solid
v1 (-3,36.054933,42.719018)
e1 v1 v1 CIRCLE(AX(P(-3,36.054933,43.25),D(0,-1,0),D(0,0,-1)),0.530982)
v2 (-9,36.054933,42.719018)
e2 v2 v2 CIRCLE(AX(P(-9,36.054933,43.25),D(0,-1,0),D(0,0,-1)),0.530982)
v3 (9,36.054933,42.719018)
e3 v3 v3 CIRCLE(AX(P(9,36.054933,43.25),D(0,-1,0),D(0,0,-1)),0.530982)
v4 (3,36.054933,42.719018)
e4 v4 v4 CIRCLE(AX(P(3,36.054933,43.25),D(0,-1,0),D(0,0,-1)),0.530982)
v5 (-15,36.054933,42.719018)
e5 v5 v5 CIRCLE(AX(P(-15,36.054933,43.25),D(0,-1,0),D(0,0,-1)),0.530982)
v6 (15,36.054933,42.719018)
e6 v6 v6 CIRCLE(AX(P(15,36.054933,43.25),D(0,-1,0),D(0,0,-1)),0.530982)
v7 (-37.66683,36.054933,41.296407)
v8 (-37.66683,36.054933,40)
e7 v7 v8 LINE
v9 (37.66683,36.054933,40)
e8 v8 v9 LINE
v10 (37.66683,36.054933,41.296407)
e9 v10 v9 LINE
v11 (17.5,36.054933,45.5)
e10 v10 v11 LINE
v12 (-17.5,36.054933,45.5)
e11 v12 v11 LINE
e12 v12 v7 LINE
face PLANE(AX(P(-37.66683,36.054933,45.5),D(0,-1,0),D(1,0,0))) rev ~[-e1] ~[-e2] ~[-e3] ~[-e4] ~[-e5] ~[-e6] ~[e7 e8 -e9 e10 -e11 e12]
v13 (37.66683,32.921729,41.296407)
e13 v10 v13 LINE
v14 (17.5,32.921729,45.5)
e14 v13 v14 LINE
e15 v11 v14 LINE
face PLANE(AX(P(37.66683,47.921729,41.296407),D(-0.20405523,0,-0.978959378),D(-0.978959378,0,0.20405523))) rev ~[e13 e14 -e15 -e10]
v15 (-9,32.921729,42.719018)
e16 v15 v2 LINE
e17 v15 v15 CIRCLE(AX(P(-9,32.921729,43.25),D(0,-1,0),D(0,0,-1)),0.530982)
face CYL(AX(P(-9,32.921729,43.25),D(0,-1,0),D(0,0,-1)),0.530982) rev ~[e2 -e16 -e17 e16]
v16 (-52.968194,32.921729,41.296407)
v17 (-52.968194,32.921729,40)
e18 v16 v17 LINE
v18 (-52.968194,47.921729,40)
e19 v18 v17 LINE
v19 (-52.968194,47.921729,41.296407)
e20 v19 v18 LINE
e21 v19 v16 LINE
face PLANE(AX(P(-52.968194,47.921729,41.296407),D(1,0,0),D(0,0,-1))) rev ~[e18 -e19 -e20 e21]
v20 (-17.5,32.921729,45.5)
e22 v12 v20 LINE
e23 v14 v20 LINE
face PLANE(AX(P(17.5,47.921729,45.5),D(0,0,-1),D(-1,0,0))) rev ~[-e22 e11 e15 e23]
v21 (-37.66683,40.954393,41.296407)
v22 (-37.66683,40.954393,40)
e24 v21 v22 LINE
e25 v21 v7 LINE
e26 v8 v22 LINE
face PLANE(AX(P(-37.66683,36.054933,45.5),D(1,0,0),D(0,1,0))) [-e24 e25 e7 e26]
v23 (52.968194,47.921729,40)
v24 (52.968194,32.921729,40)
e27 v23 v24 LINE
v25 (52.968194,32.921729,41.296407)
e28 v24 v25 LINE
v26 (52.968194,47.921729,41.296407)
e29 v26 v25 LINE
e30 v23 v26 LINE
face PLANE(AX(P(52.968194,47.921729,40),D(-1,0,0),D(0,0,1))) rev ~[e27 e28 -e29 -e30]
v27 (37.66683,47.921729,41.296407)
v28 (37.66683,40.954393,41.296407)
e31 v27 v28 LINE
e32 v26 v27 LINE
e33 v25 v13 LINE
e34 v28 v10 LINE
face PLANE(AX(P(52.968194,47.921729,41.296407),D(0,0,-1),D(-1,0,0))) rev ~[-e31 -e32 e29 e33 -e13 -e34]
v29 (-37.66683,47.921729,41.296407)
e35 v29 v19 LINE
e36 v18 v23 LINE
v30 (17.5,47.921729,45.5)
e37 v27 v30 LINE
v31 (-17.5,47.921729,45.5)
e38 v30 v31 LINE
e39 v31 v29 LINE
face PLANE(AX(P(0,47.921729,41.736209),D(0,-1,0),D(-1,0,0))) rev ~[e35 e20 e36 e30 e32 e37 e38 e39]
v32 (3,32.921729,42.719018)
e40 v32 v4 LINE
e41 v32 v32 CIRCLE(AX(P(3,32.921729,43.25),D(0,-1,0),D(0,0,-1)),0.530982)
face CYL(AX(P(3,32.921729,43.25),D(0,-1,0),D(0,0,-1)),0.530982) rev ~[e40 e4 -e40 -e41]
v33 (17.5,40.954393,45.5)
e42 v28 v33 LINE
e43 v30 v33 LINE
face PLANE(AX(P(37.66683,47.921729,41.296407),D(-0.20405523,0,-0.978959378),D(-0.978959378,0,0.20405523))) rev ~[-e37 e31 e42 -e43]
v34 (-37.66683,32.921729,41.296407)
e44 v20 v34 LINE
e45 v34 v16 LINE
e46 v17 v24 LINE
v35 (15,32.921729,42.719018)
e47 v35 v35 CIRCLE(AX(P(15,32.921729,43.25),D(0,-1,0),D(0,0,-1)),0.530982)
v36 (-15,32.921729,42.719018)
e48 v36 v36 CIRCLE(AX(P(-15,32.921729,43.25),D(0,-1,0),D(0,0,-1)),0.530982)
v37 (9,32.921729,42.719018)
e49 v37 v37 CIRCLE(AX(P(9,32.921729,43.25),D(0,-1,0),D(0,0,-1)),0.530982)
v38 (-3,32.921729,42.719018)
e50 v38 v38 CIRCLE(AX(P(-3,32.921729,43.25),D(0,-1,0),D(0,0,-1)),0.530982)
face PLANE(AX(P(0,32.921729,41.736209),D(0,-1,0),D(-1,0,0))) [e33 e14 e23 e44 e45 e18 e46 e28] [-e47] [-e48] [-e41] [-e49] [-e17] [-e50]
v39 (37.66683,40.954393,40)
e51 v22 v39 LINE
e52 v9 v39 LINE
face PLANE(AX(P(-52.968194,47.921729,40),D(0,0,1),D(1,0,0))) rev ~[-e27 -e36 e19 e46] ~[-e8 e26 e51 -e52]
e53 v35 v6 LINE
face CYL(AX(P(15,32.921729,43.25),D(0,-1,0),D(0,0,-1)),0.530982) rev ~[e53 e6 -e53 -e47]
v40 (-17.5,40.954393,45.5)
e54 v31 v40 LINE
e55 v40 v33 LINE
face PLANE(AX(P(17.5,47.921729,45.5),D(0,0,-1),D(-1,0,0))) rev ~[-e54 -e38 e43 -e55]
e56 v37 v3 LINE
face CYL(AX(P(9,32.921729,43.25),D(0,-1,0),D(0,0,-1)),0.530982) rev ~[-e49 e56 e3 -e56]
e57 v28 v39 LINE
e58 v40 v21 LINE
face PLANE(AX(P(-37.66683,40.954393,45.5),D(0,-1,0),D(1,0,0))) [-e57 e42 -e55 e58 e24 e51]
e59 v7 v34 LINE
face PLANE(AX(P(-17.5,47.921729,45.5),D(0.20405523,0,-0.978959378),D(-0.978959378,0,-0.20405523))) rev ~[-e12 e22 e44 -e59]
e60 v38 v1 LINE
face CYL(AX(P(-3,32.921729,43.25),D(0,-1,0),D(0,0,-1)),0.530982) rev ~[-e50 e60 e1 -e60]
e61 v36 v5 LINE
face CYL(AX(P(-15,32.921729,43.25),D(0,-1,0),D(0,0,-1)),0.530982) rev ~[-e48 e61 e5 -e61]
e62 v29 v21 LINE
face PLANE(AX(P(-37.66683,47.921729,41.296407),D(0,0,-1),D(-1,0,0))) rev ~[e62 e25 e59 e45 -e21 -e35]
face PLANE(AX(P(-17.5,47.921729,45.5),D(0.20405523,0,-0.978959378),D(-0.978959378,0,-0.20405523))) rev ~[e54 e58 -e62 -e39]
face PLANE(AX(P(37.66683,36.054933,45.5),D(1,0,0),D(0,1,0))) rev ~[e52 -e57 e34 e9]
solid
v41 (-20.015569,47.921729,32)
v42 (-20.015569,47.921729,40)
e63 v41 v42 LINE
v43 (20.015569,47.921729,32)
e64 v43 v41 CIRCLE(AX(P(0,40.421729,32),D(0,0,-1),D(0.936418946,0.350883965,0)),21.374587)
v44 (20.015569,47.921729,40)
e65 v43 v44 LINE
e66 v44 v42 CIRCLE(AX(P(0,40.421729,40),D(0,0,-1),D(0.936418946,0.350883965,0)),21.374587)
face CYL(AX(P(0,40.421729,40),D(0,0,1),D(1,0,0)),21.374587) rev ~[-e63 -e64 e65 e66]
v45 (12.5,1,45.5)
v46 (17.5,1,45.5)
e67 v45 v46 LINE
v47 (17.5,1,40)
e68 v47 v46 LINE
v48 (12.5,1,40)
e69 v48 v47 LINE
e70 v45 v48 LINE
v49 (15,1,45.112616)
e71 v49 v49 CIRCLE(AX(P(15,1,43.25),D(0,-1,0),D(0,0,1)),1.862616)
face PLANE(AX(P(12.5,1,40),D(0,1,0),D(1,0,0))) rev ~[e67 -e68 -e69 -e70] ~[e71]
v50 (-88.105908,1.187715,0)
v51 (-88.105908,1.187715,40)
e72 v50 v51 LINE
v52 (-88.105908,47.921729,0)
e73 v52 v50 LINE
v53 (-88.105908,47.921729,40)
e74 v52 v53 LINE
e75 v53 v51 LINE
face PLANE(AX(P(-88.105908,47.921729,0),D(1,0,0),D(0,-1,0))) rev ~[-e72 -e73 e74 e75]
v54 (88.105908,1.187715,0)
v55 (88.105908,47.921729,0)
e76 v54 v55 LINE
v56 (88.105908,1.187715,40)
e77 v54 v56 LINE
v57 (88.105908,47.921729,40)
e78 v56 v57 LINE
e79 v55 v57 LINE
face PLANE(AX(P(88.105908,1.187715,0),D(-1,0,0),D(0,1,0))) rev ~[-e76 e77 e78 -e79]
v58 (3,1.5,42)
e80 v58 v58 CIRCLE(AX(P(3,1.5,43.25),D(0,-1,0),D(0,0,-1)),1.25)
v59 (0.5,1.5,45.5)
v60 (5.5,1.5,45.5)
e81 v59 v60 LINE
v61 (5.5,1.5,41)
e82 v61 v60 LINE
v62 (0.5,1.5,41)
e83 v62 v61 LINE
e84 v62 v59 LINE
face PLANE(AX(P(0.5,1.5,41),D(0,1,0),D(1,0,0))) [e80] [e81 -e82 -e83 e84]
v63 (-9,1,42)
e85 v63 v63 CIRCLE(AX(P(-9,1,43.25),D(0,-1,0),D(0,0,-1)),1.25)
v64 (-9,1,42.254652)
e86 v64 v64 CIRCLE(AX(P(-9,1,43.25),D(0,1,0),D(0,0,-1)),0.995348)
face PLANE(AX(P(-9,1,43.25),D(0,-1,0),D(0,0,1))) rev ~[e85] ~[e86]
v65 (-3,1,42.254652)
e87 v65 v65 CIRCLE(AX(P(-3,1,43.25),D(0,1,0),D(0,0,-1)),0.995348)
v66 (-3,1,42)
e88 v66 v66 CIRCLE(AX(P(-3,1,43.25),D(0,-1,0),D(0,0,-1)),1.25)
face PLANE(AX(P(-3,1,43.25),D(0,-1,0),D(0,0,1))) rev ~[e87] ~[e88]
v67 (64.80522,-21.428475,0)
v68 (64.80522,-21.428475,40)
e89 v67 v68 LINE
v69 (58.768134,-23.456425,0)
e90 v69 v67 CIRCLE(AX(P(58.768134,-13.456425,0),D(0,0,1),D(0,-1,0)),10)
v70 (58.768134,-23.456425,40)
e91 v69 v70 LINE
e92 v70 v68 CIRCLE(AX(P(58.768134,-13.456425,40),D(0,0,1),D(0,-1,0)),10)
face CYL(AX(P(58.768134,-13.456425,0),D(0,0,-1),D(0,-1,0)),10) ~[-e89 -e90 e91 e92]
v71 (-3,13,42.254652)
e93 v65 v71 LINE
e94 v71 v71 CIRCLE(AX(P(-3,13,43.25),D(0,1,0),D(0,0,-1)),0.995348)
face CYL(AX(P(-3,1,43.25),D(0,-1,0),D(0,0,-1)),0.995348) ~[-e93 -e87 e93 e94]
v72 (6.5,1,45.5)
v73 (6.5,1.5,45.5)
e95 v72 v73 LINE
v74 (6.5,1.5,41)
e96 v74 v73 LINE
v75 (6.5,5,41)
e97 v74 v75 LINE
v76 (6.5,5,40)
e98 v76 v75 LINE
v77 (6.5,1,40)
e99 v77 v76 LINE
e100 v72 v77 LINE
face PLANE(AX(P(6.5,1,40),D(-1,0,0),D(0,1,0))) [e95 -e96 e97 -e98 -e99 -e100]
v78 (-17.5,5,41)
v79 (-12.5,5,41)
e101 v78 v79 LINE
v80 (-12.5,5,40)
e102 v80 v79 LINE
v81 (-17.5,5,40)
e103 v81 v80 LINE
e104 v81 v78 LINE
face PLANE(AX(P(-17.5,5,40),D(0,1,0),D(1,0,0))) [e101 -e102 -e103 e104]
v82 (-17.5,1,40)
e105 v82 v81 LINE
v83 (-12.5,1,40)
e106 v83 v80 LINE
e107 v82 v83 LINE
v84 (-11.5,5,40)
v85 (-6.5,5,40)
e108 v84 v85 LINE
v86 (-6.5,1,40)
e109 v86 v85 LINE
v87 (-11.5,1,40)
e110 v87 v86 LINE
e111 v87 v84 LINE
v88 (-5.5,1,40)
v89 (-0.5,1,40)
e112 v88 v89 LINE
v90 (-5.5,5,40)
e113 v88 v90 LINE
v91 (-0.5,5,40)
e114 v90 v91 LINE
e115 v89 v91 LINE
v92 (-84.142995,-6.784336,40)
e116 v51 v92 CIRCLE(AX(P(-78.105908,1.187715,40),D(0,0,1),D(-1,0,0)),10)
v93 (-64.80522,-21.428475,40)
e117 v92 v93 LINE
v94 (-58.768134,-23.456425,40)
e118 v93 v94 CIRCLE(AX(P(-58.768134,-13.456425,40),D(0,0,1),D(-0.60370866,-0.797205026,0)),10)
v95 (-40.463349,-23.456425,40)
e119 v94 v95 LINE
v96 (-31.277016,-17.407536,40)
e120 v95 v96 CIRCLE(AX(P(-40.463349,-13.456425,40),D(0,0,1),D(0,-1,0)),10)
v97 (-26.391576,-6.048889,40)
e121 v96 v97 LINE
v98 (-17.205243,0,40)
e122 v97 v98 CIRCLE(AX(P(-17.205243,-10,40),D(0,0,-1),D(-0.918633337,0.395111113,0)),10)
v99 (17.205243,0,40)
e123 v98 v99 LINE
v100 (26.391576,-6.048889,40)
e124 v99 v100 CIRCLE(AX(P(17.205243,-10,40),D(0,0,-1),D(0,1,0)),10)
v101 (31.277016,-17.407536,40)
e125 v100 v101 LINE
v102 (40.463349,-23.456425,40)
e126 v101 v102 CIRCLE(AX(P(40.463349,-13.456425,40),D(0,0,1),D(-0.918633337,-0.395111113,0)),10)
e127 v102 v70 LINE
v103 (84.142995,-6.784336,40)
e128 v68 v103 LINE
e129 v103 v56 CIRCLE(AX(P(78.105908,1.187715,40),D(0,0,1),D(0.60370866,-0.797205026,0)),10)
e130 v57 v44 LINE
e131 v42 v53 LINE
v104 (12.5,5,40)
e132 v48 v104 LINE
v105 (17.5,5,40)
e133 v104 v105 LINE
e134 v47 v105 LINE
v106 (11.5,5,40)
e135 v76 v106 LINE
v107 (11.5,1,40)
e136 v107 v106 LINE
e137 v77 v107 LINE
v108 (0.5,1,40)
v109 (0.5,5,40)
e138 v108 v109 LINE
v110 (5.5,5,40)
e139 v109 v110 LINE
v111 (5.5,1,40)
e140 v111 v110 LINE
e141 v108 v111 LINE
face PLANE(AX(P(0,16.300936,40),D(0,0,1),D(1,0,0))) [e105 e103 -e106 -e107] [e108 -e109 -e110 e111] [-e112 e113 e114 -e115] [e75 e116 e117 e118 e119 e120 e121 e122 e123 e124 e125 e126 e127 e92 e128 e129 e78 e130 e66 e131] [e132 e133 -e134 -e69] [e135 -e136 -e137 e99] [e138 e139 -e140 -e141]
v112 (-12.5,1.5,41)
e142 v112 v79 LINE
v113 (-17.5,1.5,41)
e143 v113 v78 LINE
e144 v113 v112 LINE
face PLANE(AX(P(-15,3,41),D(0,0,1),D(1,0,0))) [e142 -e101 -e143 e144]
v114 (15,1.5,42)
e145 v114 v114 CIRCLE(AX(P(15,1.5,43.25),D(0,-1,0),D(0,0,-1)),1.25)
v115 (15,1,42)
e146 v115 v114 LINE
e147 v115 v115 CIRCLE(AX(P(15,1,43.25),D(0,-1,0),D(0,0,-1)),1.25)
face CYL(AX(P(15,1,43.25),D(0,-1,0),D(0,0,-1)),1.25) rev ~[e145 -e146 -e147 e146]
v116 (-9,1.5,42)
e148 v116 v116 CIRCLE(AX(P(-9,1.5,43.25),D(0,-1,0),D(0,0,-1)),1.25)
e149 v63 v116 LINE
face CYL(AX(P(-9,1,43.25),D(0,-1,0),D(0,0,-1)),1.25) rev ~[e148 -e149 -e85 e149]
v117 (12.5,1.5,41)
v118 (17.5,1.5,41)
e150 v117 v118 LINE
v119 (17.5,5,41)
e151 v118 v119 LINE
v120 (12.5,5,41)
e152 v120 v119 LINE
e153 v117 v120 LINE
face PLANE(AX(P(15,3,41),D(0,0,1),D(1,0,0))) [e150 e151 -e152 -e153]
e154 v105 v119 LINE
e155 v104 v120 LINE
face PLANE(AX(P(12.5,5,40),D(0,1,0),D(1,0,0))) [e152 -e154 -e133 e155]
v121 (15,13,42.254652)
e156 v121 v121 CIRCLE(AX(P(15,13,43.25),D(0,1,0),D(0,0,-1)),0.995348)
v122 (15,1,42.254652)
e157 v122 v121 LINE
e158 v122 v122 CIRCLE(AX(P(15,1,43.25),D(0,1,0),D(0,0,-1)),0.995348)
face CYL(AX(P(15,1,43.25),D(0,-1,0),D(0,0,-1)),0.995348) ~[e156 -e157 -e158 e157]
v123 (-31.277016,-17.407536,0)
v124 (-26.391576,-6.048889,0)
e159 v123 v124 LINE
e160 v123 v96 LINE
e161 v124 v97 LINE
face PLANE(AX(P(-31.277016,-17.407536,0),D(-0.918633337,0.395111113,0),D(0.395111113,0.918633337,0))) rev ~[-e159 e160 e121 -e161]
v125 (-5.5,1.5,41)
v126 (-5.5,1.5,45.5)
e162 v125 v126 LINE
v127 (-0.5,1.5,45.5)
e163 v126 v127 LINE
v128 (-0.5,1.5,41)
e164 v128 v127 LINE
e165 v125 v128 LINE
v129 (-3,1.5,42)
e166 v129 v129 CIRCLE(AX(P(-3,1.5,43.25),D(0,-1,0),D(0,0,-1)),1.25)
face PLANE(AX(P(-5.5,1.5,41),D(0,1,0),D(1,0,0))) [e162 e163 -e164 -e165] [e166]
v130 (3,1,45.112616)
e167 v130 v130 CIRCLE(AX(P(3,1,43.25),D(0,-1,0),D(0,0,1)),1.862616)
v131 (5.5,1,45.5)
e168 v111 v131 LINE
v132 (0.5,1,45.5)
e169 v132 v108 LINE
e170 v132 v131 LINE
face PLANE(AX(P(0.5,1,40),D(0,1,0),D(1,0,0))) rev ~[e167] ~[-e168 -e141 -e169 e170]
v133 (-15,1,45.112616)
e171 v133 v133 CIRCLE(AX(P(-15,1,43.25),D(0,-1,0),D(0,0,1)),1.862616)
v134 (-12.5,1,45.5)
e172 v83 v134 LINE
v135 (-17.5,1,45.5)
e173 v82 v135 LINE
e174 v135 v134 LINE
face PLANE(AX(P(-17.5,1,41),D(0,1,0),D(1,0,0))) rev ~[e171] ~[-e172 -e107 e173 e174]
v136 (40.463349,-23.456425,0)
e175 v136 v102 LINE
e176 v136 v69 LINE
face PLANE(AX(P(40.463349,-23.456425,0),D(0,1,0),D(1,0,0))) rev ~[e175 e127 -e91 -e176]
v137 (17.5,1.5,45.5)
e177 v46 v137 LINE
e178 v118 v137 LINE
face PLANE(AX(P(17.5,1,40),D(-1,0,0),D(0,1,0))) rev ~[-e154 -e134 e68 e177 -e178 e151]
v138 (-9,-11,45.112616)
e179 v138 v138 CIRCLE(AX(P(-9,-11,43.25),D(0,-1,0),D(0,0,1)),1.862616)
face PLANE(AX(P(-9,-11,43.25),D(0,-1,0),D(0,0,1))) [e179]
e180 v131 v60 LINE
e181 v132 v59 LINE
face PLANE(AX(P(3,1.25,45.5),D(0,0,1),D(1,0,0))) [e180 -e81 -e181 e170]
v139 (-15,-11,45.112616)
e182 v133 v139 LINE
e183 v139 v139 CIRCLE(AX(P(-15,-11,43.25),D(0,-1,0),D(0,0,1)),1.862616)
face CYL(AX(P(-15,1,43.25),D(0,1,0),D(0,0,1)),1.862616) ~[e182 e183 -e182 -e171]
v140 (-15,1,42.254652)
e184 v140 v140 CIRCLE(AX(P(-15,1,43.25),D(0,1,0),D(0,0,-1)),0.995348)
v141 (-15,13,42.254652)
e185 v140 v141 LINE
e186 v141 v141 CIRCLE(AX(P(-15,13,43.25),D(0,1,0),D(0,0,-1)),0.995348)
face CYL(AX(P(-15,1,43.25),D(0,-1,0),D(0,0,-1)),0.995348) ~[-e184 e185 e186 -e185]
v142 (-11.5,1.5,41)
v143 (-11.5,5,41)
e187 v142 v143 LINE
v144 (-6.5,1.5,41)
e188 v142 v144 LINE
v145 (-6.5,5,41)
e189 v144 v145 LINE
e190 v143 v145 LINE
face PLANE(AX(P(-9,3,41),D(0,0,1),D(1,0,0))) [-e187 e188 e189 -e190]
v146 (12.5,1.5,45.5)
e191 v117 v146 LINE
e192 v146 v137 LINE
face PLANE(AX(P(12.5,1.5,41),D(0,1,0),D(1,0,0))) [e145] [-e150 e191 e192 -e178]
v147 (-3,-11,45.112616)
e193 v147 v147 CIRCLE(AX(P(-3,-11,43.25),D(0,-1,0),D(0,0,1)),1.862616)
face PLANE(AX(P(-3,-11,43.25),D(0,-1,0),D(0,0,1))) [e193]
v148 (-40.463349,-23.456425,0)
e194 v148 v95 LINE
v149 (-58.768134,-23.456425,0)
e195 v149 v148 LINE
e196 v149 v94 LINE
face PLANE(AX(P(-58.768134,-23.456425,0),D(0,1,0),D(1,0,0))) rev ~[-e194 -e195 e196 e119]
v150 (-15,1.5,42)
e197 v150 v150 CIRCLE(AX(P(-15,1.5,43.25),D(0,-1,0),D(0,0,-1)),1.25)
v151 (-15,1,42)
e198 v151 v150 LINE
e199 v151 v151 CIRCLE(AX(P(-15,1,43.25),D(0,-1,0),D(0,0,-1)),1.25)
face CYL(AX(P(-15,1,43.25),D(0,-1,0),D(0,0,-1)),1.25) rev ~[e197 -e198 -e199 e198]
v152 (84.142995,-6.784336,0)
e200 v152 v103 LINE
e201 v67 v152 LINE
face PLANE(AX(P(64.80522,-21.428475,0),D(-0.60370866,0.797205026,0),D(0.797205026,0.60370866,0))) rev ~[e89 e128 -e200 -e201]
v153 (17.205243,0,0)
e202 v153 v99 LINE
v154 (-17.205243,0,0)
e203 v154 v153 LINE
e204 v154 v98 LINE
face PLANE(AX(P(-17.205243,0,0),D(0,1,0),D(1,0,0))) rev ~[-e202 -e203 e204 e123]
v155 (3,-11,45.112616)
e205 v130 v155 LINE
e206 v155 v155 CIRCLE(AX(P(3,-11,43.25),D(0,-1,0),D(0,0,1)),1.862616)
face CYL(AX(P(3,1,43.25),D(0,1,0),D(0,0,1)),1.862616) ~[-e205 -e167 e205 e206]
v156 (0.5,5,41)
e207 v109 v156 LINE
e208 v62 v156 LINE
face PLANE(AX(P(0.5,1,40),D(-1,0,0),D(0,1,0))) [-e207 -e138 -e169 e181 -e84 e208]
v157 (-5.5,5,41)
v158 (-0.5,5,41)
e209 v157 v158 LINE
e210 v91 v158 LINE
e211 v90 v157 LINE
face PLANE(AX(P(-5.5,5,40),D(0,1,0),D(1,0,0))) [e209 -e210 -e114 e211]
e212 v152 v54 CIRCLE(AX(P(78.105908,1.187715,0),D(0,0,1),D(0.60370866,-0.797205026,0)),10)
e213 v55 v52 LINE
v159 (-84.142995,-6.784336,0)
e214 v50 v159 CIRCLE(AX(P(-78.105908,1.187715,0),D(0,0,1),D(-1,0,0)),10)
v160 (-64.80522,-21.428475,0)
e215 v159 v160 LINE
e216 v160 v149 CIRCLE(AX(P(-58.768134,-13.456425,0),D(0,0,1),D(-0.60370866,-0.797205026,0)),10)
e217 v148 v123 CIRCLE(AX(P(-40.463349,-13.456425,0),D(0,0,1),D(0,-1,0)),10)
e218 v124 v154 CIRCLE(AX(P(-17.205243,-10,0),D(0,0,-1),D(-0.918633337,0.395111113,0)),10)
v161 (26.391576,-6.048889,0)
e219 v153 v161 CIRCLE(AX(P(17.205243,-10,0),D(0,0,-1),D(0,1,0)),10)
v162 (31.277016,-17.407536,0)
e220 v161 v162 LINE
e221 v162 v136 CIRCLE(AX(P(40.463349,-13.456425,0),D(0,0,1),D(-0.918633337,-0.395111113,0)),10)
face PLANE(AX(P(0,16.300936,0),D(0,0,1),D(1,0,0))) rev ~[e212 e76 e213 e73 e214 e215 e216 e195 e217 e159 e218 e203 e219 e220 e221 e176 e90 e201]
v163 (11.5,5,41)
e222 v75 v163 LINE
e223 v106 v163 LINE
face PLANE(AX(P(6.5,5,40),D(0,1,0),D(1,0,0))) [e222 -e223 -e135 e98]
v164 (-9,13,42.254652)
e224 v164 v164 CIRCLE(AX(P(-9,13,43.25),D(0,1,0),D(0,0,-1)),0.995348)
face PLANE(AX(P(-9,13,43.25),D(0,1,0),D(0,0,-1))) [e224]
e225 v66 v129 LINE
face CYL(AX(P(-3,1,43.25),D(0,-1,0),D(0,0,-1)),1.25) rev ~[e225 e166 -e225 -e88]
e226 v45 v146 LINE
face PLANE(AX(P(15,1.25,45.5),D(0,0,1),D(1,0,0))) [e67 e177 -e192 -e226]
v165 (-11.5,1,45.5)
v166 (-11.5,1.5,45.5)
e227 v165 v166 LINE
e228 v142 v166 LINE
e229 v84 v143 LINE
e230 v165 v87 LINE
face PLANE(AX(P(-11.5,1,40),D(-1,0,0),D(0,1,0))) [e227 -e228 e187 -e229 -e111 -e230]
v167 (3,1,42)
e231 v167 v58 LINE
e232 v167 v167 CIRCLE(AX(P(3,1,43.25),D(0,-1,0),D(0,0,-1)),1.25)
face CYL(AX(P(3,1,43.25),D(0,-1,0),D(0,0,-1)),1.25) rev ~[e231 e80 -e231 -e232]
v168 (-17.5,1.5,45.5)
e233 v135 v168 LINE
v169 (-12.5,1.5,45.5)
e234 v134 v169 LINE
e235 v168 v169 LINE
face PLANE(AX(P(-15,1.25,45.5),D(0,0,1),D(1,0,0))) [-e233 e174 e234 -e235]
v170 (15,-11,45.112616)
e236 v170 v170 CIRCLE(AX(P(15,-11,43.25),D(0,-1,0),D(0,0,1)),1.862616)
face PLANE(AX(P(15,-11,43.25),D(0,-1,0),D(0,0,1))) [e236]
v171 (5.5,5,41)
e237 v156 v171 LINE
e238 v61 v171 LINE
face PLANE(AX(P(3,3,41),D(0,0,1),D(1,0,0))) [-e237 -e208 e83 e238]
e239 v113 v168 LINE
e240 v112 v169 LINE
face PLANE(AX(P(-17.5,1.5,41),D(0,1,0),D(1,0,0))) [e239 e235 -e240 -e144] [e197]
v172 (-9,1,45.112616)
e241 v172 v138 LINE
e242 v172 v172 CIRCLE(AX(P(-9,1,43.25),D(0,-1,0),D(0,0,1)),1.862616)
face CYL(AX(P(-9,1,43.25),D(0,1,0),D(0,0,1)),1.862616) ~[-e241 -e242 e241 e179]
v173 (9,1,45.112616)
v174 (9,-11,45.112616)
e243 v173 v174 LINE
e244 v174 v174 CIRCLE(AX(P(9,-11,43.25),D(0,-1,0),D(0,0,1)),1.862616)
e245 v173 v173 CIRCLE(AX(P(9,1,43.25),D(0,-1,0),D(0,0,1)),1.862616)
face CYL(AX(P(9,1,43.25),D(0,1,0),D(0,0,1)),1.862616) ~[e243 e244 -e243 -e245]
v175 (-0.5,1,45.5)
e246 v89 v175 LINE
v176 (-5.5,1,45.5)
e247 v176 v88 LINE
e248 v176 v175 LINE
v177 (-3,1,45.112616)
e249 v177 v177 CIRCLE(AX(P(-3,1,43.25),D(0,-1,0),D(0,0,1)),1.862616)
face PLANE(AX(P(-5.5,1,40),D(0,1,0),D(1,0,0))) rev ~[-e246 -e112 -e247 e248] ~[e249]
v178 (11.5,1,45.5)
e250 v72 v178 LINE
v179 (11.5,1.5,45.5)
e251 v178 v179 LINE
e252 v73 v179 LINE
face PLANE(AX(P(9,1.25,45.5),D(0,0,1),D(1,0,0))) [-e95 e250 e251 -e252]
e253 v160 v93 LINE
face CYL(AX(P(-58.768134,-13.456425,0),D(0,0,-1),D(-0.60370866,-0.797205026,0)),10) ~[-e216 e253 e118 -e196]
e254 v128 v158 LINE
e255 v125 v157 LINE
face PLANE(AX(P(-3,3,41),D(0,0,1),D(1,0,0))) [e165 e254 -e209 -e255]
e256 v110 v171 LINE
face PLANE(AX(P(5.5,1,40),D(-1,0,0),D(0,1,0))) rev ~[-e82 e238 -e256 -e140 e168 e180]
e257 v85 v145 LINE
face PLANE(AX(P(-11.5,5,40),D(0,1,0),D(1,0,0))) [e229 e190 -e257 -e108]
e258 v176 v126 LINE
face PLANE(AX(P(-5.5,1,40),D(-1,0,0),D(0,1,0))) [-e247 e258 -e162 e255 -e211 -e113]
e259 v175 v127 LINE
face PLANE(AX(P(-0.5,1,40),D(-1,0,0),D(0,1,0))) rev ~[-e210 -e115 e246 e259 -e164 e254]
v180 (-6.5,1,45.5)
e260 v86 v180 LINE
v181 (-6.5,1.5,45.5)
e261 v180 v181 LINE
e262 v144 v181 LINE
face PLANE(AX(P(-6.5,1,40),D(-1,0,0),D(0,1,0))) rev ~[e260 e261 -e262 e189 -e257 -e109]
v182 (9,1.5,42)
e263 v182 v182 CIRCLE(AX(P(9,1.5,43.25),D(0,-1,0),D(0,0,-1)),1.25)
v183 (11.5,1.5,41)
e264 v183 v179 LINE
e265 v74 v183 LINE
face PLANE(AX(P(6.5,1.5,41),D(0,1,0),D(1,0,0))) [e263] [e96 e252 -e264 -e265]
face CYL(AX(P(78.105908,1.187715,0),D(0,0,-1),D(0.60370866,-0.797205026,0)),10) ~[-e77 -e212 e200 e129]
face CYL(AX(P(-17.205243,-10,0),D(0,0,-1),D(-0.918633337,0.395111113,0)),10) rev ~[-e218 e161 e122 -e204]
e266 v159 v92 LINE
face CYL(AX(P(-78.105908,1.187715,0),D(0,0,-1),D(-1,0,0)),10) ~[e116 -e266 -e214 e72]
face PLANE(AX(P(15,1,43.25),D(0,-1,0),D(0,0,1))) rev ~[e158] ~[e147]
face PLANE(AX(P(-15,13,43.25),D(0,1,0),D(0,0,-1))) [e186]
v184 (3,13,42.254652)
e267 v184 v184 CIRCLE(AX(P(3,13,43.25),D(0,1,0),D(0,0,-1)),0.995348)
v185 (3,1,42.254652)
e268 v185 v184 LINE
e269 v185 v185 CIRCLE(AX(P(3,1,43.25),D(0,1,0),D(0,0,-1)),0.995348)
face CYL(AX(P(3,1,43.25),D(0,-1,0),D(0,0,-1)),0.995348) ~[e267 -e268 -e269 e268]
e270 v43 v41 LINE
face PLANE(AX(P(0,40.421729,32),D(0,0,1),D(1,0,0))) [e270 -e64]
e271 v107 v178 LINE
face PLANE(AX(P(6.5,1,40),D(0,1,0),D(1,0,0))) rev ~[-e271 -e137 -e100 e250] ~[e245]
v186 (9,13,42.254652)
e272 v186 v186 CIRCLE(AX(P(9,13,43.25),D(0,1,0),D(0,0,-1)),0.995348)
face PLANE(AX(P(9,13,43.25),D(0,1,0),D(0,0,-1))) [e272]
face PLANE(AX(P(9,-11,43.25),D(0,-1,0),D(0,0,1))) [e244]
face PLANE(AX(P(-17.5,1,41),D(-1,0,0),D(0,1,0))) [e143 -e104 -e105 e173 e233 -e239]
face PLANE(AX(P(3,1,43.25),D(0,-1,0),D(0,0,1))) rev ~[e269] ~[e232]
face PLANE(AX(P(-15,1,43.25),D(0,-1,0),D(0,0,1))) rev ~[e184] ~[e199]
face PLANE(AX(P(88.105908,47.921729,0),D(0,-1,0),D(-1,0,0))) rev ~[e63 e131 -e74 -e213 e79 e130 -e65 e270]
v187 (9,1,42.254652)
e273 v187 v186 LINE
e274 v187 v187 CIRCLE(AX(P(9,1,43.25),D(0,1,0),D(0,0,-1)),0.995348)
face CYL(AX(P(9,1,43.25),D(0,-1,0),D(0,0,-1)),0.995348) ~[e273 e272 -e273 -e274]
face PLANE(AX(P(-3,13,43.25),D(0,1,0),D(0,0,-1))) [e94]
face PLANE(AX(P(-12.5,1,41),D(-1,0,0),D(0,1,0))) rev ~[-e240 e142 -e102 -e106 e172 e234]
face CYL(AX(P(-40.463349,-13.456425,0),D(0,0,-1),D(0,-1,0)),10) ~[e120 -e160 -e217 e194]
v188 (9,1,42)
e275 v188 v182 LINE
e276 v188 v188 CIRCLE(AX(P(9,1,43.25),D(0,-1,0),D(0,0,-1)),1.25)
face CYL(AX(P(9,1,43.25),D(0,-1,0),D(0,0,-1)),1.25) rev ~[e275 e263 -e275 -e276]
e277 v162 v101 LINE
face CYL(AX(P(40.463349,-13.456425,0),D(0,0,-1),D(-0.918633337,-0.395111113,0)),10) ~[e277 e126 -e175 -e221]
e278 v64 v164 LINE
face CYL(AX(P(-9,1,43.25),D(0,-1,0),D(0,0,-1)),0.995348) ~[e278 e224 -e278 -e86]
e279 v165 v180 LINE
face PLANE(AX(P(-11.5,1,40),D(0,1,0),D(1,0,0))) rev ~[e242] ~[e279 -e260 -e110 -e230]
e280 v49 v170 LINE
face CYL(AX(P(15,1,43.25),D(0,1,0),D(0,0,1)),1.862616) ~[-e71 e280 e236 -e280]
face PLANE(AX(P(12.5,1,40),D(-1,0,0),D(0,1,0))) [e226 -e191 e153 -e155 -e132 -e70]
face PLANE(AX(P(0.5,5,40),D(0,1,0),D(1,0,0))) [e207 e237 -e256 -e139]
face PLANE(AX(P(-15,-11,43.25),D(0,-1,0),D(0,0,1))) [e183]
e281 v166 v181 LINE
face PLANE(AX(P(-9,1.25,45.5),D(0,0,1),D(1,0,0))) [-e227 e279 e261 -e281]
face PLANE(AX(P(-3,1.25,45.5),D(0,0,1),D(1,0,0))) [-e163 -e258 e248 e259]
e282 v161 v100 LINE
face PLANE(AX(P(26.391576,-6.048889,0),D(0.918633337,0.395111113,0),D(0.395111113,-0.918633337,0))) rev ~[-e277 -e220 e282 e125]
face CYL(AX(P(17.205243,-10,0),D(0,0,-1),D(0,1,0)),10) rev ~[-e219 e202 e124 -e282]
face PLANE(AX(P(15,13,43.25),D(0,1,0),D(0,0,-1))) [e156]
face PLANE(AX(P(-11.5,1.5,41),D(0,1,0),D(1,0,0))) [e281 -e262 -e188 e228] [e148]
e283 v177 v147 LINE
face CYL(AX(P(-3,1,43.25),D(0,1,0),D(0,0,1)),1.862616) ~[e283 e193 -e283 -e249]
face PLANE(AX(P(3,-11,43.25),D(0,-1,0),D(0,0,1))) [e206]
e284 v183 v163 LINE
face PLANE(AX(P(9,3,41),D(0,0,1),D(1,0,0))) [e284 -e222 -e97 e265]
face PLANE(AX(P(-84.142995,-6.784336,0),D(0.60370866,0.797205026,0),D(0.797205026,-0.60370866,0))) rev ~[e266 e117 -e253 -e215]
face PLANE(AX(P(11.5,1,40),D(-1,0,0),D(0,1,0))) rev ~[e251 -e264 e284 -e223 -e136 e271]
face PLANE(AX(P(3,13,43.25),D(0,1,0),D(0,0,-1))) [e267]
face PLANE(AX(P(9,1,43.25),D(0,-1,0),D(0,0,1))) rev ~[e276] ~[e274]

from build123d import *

# Parameters (mm, degrees)
BOSS_EXTRUDE1_DEPTH = 40
SKETCH2_W           = 5
SKETCH2_H           = 4
BOSS_EXTRUDE2_DEPTH = 1
SKETCH3_W           = 5
SKETCH3_H           = 0.5
BOSS_EXTRUDE3_DEPTH = 4.5
SKETCH4_R           = 1.25
CUT_EXTRUDE1_DEPTH  = 4
BOSS_EXTRUDE4_DEPTH = 15
SKETCH6_R           = 21.374587463
CUT_EXTRUDE2_DEPTH  = 8
SKETCH7_W           = 75.333659936
SKETCH7_H           = 4.899460554
CUT_EXTRUDE3_DEPTH  = 5.5
SKETCH8_R           = 0.530981903
CUT_EXTRUDE4_DEPTH  = 6
SKETCH9_R           = 1.862615815
BOSS_EXTRUDE5_DEPTH = 12
SKETCH10_R          = 0.995348299
BOSS_EXTRUDE6_DEPTH = 12


with BuildPart() as part:
    # Sketch1 → Boss-Extrude1 (new body)
    with BuildSketch(Plane.XY):
        with BuildLine():
            Line((-17.205242583, 0), (17.205242583, 0))
            ThreePointArc((17.205242583, 0), (22.704737501, -1.648020855), (26.391575956, -6.048888872))
            Line((26.391575956, -6.048888872), (31.277015737, -17.407536362))
            ThreePointArc((31.277015737, -17.407536362), (34.963854192, -21.808404379), (40.463349111, -23.456425234))
            Line((40.463349111, -23.456425234), (58.768133529, -23.456425234))
            ThreePointArc((58.768133529, -23.456425234), (61.952430736, -22.935889949), (64.805220133, -21.428475493))
            Line((64.805220133, -21.428475493), (84.1429946, -6.784335605))
            ThreePointArc((84.1429946, -6.784335605), (87.060539927, -3.26364098), (88.105907996, 1.187714654))
            Line((88.105907996, 1.187714654), (88.105907996, 47.921728972))
            Line((88.105907996, 47.921728972), (-88.105907996, 47.921728972))
            Line((-88.105907996, 47.921728972), (-88.105907996, 1.187714654))
            ThreePointArc((-88.105907996, 1.187714654), (-87.060539927, -3.26364098), (-84.1429946, -6.784335605))
            Line((-84.1429946, -6.784335605), (-64.805220133, -21.428475493))
            ThreePointArc((-64.805220133, -21.428475493), (-61.952430736, -22.935889949), (-58.768133529, -23.456425234))
            Line((-58.768133529, -23.456425234), (-40.463349111, -23.456425234))
            ThreePointArc((-40.463349111, -23.456425234), (-34.963854192, -21.808404379), (-31.277015737, -17.407536362))
            Line((-31.277015737, -17.407536362), (-26.391575956, -6.048888872))
            ThreePointArc((-26.391575956, -6.048888872), (-22.704737501, -1.648020855), (-17.205242583, 0))
        make_face()
    extrude(amount=BOSS_EXTRUDE1_DEPTH)

    # Sketch2 → Boss-Extrude2 (add)
    with BuildSketch(Plane.XY.offset(40)):
        with Locations((-15, 3)):
            Rectangle(SKETCH2_W, SKETCH2_H)
        with Locations((-9, 3)):
            Rectangle(SKETCH2_W, SKETCH2_H)
        with Locations((-3, 3)):
            Rectangle(SKETCH2_W, SKETCH2_H)
        with Locations((3, 3)):
            Rectangle(SKETCH2_W, SKETCH2_H)
        with Locations((9, 3)):
            Rectangle(SKETCH2_W, SKETCH2_H)
        with Locations((15, 3)):
            Rectangle(SKETCH2_W, SKETCH2_H)
    extrude(amount=BOSS_EXTRUDE2_DEPTH)

    # Sketch3 → Boss-Extrude3 (add)
    with BuildSketch(Plane.XY.offset(41)):
        with Locations((-15, 1.25)):
            Rectangle(SKETCH3_W, SKETCH3_H)
        with Locations((-9, 1.25)):
            Rectangle(SKETCH3_W, SKETCH3_H)
        with Locations((-3, 1.25)):
            Rectangle(SKETCH3_W, SKETCH3_H)
        with Locations((3, 1.25)):
            Rectangle(SKETCH3_W, SKETCH3_H)
        with Locations((9, 1.25)):
            Rectangle(SKETCH3_W, SKETCH3_H)
        with Locations((15, 1.25)):
            Rectangle(SKETCH3_W, SKETCH3_H)
    extrude(amount=BOSS_EXTRUDE3_DEPTH)

    # Sketch4 → Cut-Extrude1 (cut)
    with BuildSketch(Plane.XZ.offset(-1)):
        with Locations(Location((15, 43.25, 0), (0, 0, 270))):
            Circle(SKETCH4_R)
        with Locations(Location((9, 43.25, 0), (0, 0, 270))):
            Circle(SKETCH4_R)
        with Locations(Location((3, 43.25, 0), (0, 0, 270))):
            Circle(SKETCH4_R)
        with Locations(Location((-3, 43.25, 0), (0, 0, 270))):
            Circle(SKETCH4_R)
        with Locations(Location((-9, 43.25, 0), (0, 0, 270))):
            Circle(SKETCH4_R)
        with Locations(Location((-15, 43.25, 0), (0, 0, 270))):
            Circle(SKETCH4_R)
    extrude(amount=-CUT_EXTRUDE1_DEPTH, mode=Mode.SUBTRACT)

    # Sketch6 → Cut-Extrude2 (cut)
    with BuildSketch(Plane.XY.offset(40)):
        with Locations((0, 40.421728972)):
            Circle(SKETCH6_R)
    extrude(amount=-CUT_EXTRUDE2_DEPTH, mode=Mode.SUBTRACT)

    # Sketch9 → Boss-Extrude5 (add)
    with BuildSketch(Plane.XZ.offset(-1)):
        with Locations(Location((15, 43.25, 0), (0, 0, 90))):
            Circle(SKETCH9_R)
        with Locations(Location((9, 43.25, 0), (0, 0, 90))):
            Circle(SKETCH9_R)
        with Locations(Location((3, 43.25, 0), (0, 0, 90))):
            Circle(SKETCH9_R)
        with Locations(Location((-3, 43.25, 0), (0, 0, 90))):
            Circle(SKETCH9_R)
        with Locations(Location((-9, 43.25, 0), (0, 0, 90))):
            Circle(SKETCH9_R)
        with Locations(Location((-15, 43.25, 0), (0, 0, 90))):
            Circle(SKETCH9_R)
    extrude(amount=BOSS_EXTRUDE5_DEPTH)

    # Sketch10 → Boss-Extrude6 (add)
    with BuildSketch(Plane(origin=(0, 1, 0), x_dir=(1, 0, 0), z_dir=(0, 1, 0))):
        with Locations(Location((15, -43.25, 0), (0, 0, 90))):
            Circle(SKETCH10_R)
        with Locations(Location((9, -43.25, 0), (0, 0, 90))):
            Circle(SKETCH10_R)
        with Locations(Location((3, -43.25, 0), (0, 0, 90))):
            Circle(SKETCH10_R)
        with Locations(Location((-3, -43.25, 0), (0, 0, 90))):
            Circle(SKETCH10_R)
        with Locations(Location((-9, -43.25, 0), (0, 0, 90))):
            Circle(SKETCH10_R)
        with Locations(Location((-15, -43.25, 0), (0, 0, 90))):
            Circle(SKETCH10_R)
    extrude(amount=BOSS_EXTRUDE6_DEPTH)


with BuildPart() as body_2:
    # Sketch5 → Boss-Extrude4 (new body)
    with BuildSketch(Plane(origin=(0, 47.921728972, 0), x_dir=(1, 0, 0), z_dir=(0, 1, 0))):
        Polygon((52.968193504, -40), (52.968193504, -41.296406645), (37.666829968, -41.296406645), (17.5, -45.5), (-17.5, -45.5), (-37.666829968, -41.296406645), (-52.968193504, -41.296406645), (-52.968193504, -40), align=None)
    extrude(amount=-BOSS_EXTRUDE4_DEPTH)

    # Sketch7 → Cut-Extrude3 (cut)
    with BuildSketch(Plane.XY.offset(45.5)):
        with Locations((0, 38.504662821)):
            Rectangle(SKETCH7_W, SKETCH7_H)
    extrude(amount=-CUT_EXTRUDE3_DEPTH, mode=Mode.SUBTRACT)

    # Sketch8 → Cut-Extrude4 (cut)
    with BuildSketch(Plane.XZ.offset(-32.921728972)):
        with Locations(Location((15, 43.25, 0), (0, 0, 270))):
            Circle(SKETCH8_R)
        with Locations(Location((9, 43.25, 0), (0, 0, 270))):
            Circle(SKETCH8_R)
        with Locations(Location((3, 43.25, 0), (0, 0, 270))):
            Circle(SKETCH8_R)
        with Locations(Location((-3, 43.25, 0), (0, 0, 270))):
            Circle(SKETCH8_R)
        with Locations(Location((-9, 43.25, 0), (0, 0, 270))):
            Circle(SKETCH8_R)
        with Locations(Location((-15, 43.25, 0), (0, 0, 270))):
            Circle(SKETCH8_R)
    extrude(amount=-CUT_EXTRUDE4_DEPTH, mode=Mode.SUBTRACT)


solid = Compound([part.part, body_2.part])
